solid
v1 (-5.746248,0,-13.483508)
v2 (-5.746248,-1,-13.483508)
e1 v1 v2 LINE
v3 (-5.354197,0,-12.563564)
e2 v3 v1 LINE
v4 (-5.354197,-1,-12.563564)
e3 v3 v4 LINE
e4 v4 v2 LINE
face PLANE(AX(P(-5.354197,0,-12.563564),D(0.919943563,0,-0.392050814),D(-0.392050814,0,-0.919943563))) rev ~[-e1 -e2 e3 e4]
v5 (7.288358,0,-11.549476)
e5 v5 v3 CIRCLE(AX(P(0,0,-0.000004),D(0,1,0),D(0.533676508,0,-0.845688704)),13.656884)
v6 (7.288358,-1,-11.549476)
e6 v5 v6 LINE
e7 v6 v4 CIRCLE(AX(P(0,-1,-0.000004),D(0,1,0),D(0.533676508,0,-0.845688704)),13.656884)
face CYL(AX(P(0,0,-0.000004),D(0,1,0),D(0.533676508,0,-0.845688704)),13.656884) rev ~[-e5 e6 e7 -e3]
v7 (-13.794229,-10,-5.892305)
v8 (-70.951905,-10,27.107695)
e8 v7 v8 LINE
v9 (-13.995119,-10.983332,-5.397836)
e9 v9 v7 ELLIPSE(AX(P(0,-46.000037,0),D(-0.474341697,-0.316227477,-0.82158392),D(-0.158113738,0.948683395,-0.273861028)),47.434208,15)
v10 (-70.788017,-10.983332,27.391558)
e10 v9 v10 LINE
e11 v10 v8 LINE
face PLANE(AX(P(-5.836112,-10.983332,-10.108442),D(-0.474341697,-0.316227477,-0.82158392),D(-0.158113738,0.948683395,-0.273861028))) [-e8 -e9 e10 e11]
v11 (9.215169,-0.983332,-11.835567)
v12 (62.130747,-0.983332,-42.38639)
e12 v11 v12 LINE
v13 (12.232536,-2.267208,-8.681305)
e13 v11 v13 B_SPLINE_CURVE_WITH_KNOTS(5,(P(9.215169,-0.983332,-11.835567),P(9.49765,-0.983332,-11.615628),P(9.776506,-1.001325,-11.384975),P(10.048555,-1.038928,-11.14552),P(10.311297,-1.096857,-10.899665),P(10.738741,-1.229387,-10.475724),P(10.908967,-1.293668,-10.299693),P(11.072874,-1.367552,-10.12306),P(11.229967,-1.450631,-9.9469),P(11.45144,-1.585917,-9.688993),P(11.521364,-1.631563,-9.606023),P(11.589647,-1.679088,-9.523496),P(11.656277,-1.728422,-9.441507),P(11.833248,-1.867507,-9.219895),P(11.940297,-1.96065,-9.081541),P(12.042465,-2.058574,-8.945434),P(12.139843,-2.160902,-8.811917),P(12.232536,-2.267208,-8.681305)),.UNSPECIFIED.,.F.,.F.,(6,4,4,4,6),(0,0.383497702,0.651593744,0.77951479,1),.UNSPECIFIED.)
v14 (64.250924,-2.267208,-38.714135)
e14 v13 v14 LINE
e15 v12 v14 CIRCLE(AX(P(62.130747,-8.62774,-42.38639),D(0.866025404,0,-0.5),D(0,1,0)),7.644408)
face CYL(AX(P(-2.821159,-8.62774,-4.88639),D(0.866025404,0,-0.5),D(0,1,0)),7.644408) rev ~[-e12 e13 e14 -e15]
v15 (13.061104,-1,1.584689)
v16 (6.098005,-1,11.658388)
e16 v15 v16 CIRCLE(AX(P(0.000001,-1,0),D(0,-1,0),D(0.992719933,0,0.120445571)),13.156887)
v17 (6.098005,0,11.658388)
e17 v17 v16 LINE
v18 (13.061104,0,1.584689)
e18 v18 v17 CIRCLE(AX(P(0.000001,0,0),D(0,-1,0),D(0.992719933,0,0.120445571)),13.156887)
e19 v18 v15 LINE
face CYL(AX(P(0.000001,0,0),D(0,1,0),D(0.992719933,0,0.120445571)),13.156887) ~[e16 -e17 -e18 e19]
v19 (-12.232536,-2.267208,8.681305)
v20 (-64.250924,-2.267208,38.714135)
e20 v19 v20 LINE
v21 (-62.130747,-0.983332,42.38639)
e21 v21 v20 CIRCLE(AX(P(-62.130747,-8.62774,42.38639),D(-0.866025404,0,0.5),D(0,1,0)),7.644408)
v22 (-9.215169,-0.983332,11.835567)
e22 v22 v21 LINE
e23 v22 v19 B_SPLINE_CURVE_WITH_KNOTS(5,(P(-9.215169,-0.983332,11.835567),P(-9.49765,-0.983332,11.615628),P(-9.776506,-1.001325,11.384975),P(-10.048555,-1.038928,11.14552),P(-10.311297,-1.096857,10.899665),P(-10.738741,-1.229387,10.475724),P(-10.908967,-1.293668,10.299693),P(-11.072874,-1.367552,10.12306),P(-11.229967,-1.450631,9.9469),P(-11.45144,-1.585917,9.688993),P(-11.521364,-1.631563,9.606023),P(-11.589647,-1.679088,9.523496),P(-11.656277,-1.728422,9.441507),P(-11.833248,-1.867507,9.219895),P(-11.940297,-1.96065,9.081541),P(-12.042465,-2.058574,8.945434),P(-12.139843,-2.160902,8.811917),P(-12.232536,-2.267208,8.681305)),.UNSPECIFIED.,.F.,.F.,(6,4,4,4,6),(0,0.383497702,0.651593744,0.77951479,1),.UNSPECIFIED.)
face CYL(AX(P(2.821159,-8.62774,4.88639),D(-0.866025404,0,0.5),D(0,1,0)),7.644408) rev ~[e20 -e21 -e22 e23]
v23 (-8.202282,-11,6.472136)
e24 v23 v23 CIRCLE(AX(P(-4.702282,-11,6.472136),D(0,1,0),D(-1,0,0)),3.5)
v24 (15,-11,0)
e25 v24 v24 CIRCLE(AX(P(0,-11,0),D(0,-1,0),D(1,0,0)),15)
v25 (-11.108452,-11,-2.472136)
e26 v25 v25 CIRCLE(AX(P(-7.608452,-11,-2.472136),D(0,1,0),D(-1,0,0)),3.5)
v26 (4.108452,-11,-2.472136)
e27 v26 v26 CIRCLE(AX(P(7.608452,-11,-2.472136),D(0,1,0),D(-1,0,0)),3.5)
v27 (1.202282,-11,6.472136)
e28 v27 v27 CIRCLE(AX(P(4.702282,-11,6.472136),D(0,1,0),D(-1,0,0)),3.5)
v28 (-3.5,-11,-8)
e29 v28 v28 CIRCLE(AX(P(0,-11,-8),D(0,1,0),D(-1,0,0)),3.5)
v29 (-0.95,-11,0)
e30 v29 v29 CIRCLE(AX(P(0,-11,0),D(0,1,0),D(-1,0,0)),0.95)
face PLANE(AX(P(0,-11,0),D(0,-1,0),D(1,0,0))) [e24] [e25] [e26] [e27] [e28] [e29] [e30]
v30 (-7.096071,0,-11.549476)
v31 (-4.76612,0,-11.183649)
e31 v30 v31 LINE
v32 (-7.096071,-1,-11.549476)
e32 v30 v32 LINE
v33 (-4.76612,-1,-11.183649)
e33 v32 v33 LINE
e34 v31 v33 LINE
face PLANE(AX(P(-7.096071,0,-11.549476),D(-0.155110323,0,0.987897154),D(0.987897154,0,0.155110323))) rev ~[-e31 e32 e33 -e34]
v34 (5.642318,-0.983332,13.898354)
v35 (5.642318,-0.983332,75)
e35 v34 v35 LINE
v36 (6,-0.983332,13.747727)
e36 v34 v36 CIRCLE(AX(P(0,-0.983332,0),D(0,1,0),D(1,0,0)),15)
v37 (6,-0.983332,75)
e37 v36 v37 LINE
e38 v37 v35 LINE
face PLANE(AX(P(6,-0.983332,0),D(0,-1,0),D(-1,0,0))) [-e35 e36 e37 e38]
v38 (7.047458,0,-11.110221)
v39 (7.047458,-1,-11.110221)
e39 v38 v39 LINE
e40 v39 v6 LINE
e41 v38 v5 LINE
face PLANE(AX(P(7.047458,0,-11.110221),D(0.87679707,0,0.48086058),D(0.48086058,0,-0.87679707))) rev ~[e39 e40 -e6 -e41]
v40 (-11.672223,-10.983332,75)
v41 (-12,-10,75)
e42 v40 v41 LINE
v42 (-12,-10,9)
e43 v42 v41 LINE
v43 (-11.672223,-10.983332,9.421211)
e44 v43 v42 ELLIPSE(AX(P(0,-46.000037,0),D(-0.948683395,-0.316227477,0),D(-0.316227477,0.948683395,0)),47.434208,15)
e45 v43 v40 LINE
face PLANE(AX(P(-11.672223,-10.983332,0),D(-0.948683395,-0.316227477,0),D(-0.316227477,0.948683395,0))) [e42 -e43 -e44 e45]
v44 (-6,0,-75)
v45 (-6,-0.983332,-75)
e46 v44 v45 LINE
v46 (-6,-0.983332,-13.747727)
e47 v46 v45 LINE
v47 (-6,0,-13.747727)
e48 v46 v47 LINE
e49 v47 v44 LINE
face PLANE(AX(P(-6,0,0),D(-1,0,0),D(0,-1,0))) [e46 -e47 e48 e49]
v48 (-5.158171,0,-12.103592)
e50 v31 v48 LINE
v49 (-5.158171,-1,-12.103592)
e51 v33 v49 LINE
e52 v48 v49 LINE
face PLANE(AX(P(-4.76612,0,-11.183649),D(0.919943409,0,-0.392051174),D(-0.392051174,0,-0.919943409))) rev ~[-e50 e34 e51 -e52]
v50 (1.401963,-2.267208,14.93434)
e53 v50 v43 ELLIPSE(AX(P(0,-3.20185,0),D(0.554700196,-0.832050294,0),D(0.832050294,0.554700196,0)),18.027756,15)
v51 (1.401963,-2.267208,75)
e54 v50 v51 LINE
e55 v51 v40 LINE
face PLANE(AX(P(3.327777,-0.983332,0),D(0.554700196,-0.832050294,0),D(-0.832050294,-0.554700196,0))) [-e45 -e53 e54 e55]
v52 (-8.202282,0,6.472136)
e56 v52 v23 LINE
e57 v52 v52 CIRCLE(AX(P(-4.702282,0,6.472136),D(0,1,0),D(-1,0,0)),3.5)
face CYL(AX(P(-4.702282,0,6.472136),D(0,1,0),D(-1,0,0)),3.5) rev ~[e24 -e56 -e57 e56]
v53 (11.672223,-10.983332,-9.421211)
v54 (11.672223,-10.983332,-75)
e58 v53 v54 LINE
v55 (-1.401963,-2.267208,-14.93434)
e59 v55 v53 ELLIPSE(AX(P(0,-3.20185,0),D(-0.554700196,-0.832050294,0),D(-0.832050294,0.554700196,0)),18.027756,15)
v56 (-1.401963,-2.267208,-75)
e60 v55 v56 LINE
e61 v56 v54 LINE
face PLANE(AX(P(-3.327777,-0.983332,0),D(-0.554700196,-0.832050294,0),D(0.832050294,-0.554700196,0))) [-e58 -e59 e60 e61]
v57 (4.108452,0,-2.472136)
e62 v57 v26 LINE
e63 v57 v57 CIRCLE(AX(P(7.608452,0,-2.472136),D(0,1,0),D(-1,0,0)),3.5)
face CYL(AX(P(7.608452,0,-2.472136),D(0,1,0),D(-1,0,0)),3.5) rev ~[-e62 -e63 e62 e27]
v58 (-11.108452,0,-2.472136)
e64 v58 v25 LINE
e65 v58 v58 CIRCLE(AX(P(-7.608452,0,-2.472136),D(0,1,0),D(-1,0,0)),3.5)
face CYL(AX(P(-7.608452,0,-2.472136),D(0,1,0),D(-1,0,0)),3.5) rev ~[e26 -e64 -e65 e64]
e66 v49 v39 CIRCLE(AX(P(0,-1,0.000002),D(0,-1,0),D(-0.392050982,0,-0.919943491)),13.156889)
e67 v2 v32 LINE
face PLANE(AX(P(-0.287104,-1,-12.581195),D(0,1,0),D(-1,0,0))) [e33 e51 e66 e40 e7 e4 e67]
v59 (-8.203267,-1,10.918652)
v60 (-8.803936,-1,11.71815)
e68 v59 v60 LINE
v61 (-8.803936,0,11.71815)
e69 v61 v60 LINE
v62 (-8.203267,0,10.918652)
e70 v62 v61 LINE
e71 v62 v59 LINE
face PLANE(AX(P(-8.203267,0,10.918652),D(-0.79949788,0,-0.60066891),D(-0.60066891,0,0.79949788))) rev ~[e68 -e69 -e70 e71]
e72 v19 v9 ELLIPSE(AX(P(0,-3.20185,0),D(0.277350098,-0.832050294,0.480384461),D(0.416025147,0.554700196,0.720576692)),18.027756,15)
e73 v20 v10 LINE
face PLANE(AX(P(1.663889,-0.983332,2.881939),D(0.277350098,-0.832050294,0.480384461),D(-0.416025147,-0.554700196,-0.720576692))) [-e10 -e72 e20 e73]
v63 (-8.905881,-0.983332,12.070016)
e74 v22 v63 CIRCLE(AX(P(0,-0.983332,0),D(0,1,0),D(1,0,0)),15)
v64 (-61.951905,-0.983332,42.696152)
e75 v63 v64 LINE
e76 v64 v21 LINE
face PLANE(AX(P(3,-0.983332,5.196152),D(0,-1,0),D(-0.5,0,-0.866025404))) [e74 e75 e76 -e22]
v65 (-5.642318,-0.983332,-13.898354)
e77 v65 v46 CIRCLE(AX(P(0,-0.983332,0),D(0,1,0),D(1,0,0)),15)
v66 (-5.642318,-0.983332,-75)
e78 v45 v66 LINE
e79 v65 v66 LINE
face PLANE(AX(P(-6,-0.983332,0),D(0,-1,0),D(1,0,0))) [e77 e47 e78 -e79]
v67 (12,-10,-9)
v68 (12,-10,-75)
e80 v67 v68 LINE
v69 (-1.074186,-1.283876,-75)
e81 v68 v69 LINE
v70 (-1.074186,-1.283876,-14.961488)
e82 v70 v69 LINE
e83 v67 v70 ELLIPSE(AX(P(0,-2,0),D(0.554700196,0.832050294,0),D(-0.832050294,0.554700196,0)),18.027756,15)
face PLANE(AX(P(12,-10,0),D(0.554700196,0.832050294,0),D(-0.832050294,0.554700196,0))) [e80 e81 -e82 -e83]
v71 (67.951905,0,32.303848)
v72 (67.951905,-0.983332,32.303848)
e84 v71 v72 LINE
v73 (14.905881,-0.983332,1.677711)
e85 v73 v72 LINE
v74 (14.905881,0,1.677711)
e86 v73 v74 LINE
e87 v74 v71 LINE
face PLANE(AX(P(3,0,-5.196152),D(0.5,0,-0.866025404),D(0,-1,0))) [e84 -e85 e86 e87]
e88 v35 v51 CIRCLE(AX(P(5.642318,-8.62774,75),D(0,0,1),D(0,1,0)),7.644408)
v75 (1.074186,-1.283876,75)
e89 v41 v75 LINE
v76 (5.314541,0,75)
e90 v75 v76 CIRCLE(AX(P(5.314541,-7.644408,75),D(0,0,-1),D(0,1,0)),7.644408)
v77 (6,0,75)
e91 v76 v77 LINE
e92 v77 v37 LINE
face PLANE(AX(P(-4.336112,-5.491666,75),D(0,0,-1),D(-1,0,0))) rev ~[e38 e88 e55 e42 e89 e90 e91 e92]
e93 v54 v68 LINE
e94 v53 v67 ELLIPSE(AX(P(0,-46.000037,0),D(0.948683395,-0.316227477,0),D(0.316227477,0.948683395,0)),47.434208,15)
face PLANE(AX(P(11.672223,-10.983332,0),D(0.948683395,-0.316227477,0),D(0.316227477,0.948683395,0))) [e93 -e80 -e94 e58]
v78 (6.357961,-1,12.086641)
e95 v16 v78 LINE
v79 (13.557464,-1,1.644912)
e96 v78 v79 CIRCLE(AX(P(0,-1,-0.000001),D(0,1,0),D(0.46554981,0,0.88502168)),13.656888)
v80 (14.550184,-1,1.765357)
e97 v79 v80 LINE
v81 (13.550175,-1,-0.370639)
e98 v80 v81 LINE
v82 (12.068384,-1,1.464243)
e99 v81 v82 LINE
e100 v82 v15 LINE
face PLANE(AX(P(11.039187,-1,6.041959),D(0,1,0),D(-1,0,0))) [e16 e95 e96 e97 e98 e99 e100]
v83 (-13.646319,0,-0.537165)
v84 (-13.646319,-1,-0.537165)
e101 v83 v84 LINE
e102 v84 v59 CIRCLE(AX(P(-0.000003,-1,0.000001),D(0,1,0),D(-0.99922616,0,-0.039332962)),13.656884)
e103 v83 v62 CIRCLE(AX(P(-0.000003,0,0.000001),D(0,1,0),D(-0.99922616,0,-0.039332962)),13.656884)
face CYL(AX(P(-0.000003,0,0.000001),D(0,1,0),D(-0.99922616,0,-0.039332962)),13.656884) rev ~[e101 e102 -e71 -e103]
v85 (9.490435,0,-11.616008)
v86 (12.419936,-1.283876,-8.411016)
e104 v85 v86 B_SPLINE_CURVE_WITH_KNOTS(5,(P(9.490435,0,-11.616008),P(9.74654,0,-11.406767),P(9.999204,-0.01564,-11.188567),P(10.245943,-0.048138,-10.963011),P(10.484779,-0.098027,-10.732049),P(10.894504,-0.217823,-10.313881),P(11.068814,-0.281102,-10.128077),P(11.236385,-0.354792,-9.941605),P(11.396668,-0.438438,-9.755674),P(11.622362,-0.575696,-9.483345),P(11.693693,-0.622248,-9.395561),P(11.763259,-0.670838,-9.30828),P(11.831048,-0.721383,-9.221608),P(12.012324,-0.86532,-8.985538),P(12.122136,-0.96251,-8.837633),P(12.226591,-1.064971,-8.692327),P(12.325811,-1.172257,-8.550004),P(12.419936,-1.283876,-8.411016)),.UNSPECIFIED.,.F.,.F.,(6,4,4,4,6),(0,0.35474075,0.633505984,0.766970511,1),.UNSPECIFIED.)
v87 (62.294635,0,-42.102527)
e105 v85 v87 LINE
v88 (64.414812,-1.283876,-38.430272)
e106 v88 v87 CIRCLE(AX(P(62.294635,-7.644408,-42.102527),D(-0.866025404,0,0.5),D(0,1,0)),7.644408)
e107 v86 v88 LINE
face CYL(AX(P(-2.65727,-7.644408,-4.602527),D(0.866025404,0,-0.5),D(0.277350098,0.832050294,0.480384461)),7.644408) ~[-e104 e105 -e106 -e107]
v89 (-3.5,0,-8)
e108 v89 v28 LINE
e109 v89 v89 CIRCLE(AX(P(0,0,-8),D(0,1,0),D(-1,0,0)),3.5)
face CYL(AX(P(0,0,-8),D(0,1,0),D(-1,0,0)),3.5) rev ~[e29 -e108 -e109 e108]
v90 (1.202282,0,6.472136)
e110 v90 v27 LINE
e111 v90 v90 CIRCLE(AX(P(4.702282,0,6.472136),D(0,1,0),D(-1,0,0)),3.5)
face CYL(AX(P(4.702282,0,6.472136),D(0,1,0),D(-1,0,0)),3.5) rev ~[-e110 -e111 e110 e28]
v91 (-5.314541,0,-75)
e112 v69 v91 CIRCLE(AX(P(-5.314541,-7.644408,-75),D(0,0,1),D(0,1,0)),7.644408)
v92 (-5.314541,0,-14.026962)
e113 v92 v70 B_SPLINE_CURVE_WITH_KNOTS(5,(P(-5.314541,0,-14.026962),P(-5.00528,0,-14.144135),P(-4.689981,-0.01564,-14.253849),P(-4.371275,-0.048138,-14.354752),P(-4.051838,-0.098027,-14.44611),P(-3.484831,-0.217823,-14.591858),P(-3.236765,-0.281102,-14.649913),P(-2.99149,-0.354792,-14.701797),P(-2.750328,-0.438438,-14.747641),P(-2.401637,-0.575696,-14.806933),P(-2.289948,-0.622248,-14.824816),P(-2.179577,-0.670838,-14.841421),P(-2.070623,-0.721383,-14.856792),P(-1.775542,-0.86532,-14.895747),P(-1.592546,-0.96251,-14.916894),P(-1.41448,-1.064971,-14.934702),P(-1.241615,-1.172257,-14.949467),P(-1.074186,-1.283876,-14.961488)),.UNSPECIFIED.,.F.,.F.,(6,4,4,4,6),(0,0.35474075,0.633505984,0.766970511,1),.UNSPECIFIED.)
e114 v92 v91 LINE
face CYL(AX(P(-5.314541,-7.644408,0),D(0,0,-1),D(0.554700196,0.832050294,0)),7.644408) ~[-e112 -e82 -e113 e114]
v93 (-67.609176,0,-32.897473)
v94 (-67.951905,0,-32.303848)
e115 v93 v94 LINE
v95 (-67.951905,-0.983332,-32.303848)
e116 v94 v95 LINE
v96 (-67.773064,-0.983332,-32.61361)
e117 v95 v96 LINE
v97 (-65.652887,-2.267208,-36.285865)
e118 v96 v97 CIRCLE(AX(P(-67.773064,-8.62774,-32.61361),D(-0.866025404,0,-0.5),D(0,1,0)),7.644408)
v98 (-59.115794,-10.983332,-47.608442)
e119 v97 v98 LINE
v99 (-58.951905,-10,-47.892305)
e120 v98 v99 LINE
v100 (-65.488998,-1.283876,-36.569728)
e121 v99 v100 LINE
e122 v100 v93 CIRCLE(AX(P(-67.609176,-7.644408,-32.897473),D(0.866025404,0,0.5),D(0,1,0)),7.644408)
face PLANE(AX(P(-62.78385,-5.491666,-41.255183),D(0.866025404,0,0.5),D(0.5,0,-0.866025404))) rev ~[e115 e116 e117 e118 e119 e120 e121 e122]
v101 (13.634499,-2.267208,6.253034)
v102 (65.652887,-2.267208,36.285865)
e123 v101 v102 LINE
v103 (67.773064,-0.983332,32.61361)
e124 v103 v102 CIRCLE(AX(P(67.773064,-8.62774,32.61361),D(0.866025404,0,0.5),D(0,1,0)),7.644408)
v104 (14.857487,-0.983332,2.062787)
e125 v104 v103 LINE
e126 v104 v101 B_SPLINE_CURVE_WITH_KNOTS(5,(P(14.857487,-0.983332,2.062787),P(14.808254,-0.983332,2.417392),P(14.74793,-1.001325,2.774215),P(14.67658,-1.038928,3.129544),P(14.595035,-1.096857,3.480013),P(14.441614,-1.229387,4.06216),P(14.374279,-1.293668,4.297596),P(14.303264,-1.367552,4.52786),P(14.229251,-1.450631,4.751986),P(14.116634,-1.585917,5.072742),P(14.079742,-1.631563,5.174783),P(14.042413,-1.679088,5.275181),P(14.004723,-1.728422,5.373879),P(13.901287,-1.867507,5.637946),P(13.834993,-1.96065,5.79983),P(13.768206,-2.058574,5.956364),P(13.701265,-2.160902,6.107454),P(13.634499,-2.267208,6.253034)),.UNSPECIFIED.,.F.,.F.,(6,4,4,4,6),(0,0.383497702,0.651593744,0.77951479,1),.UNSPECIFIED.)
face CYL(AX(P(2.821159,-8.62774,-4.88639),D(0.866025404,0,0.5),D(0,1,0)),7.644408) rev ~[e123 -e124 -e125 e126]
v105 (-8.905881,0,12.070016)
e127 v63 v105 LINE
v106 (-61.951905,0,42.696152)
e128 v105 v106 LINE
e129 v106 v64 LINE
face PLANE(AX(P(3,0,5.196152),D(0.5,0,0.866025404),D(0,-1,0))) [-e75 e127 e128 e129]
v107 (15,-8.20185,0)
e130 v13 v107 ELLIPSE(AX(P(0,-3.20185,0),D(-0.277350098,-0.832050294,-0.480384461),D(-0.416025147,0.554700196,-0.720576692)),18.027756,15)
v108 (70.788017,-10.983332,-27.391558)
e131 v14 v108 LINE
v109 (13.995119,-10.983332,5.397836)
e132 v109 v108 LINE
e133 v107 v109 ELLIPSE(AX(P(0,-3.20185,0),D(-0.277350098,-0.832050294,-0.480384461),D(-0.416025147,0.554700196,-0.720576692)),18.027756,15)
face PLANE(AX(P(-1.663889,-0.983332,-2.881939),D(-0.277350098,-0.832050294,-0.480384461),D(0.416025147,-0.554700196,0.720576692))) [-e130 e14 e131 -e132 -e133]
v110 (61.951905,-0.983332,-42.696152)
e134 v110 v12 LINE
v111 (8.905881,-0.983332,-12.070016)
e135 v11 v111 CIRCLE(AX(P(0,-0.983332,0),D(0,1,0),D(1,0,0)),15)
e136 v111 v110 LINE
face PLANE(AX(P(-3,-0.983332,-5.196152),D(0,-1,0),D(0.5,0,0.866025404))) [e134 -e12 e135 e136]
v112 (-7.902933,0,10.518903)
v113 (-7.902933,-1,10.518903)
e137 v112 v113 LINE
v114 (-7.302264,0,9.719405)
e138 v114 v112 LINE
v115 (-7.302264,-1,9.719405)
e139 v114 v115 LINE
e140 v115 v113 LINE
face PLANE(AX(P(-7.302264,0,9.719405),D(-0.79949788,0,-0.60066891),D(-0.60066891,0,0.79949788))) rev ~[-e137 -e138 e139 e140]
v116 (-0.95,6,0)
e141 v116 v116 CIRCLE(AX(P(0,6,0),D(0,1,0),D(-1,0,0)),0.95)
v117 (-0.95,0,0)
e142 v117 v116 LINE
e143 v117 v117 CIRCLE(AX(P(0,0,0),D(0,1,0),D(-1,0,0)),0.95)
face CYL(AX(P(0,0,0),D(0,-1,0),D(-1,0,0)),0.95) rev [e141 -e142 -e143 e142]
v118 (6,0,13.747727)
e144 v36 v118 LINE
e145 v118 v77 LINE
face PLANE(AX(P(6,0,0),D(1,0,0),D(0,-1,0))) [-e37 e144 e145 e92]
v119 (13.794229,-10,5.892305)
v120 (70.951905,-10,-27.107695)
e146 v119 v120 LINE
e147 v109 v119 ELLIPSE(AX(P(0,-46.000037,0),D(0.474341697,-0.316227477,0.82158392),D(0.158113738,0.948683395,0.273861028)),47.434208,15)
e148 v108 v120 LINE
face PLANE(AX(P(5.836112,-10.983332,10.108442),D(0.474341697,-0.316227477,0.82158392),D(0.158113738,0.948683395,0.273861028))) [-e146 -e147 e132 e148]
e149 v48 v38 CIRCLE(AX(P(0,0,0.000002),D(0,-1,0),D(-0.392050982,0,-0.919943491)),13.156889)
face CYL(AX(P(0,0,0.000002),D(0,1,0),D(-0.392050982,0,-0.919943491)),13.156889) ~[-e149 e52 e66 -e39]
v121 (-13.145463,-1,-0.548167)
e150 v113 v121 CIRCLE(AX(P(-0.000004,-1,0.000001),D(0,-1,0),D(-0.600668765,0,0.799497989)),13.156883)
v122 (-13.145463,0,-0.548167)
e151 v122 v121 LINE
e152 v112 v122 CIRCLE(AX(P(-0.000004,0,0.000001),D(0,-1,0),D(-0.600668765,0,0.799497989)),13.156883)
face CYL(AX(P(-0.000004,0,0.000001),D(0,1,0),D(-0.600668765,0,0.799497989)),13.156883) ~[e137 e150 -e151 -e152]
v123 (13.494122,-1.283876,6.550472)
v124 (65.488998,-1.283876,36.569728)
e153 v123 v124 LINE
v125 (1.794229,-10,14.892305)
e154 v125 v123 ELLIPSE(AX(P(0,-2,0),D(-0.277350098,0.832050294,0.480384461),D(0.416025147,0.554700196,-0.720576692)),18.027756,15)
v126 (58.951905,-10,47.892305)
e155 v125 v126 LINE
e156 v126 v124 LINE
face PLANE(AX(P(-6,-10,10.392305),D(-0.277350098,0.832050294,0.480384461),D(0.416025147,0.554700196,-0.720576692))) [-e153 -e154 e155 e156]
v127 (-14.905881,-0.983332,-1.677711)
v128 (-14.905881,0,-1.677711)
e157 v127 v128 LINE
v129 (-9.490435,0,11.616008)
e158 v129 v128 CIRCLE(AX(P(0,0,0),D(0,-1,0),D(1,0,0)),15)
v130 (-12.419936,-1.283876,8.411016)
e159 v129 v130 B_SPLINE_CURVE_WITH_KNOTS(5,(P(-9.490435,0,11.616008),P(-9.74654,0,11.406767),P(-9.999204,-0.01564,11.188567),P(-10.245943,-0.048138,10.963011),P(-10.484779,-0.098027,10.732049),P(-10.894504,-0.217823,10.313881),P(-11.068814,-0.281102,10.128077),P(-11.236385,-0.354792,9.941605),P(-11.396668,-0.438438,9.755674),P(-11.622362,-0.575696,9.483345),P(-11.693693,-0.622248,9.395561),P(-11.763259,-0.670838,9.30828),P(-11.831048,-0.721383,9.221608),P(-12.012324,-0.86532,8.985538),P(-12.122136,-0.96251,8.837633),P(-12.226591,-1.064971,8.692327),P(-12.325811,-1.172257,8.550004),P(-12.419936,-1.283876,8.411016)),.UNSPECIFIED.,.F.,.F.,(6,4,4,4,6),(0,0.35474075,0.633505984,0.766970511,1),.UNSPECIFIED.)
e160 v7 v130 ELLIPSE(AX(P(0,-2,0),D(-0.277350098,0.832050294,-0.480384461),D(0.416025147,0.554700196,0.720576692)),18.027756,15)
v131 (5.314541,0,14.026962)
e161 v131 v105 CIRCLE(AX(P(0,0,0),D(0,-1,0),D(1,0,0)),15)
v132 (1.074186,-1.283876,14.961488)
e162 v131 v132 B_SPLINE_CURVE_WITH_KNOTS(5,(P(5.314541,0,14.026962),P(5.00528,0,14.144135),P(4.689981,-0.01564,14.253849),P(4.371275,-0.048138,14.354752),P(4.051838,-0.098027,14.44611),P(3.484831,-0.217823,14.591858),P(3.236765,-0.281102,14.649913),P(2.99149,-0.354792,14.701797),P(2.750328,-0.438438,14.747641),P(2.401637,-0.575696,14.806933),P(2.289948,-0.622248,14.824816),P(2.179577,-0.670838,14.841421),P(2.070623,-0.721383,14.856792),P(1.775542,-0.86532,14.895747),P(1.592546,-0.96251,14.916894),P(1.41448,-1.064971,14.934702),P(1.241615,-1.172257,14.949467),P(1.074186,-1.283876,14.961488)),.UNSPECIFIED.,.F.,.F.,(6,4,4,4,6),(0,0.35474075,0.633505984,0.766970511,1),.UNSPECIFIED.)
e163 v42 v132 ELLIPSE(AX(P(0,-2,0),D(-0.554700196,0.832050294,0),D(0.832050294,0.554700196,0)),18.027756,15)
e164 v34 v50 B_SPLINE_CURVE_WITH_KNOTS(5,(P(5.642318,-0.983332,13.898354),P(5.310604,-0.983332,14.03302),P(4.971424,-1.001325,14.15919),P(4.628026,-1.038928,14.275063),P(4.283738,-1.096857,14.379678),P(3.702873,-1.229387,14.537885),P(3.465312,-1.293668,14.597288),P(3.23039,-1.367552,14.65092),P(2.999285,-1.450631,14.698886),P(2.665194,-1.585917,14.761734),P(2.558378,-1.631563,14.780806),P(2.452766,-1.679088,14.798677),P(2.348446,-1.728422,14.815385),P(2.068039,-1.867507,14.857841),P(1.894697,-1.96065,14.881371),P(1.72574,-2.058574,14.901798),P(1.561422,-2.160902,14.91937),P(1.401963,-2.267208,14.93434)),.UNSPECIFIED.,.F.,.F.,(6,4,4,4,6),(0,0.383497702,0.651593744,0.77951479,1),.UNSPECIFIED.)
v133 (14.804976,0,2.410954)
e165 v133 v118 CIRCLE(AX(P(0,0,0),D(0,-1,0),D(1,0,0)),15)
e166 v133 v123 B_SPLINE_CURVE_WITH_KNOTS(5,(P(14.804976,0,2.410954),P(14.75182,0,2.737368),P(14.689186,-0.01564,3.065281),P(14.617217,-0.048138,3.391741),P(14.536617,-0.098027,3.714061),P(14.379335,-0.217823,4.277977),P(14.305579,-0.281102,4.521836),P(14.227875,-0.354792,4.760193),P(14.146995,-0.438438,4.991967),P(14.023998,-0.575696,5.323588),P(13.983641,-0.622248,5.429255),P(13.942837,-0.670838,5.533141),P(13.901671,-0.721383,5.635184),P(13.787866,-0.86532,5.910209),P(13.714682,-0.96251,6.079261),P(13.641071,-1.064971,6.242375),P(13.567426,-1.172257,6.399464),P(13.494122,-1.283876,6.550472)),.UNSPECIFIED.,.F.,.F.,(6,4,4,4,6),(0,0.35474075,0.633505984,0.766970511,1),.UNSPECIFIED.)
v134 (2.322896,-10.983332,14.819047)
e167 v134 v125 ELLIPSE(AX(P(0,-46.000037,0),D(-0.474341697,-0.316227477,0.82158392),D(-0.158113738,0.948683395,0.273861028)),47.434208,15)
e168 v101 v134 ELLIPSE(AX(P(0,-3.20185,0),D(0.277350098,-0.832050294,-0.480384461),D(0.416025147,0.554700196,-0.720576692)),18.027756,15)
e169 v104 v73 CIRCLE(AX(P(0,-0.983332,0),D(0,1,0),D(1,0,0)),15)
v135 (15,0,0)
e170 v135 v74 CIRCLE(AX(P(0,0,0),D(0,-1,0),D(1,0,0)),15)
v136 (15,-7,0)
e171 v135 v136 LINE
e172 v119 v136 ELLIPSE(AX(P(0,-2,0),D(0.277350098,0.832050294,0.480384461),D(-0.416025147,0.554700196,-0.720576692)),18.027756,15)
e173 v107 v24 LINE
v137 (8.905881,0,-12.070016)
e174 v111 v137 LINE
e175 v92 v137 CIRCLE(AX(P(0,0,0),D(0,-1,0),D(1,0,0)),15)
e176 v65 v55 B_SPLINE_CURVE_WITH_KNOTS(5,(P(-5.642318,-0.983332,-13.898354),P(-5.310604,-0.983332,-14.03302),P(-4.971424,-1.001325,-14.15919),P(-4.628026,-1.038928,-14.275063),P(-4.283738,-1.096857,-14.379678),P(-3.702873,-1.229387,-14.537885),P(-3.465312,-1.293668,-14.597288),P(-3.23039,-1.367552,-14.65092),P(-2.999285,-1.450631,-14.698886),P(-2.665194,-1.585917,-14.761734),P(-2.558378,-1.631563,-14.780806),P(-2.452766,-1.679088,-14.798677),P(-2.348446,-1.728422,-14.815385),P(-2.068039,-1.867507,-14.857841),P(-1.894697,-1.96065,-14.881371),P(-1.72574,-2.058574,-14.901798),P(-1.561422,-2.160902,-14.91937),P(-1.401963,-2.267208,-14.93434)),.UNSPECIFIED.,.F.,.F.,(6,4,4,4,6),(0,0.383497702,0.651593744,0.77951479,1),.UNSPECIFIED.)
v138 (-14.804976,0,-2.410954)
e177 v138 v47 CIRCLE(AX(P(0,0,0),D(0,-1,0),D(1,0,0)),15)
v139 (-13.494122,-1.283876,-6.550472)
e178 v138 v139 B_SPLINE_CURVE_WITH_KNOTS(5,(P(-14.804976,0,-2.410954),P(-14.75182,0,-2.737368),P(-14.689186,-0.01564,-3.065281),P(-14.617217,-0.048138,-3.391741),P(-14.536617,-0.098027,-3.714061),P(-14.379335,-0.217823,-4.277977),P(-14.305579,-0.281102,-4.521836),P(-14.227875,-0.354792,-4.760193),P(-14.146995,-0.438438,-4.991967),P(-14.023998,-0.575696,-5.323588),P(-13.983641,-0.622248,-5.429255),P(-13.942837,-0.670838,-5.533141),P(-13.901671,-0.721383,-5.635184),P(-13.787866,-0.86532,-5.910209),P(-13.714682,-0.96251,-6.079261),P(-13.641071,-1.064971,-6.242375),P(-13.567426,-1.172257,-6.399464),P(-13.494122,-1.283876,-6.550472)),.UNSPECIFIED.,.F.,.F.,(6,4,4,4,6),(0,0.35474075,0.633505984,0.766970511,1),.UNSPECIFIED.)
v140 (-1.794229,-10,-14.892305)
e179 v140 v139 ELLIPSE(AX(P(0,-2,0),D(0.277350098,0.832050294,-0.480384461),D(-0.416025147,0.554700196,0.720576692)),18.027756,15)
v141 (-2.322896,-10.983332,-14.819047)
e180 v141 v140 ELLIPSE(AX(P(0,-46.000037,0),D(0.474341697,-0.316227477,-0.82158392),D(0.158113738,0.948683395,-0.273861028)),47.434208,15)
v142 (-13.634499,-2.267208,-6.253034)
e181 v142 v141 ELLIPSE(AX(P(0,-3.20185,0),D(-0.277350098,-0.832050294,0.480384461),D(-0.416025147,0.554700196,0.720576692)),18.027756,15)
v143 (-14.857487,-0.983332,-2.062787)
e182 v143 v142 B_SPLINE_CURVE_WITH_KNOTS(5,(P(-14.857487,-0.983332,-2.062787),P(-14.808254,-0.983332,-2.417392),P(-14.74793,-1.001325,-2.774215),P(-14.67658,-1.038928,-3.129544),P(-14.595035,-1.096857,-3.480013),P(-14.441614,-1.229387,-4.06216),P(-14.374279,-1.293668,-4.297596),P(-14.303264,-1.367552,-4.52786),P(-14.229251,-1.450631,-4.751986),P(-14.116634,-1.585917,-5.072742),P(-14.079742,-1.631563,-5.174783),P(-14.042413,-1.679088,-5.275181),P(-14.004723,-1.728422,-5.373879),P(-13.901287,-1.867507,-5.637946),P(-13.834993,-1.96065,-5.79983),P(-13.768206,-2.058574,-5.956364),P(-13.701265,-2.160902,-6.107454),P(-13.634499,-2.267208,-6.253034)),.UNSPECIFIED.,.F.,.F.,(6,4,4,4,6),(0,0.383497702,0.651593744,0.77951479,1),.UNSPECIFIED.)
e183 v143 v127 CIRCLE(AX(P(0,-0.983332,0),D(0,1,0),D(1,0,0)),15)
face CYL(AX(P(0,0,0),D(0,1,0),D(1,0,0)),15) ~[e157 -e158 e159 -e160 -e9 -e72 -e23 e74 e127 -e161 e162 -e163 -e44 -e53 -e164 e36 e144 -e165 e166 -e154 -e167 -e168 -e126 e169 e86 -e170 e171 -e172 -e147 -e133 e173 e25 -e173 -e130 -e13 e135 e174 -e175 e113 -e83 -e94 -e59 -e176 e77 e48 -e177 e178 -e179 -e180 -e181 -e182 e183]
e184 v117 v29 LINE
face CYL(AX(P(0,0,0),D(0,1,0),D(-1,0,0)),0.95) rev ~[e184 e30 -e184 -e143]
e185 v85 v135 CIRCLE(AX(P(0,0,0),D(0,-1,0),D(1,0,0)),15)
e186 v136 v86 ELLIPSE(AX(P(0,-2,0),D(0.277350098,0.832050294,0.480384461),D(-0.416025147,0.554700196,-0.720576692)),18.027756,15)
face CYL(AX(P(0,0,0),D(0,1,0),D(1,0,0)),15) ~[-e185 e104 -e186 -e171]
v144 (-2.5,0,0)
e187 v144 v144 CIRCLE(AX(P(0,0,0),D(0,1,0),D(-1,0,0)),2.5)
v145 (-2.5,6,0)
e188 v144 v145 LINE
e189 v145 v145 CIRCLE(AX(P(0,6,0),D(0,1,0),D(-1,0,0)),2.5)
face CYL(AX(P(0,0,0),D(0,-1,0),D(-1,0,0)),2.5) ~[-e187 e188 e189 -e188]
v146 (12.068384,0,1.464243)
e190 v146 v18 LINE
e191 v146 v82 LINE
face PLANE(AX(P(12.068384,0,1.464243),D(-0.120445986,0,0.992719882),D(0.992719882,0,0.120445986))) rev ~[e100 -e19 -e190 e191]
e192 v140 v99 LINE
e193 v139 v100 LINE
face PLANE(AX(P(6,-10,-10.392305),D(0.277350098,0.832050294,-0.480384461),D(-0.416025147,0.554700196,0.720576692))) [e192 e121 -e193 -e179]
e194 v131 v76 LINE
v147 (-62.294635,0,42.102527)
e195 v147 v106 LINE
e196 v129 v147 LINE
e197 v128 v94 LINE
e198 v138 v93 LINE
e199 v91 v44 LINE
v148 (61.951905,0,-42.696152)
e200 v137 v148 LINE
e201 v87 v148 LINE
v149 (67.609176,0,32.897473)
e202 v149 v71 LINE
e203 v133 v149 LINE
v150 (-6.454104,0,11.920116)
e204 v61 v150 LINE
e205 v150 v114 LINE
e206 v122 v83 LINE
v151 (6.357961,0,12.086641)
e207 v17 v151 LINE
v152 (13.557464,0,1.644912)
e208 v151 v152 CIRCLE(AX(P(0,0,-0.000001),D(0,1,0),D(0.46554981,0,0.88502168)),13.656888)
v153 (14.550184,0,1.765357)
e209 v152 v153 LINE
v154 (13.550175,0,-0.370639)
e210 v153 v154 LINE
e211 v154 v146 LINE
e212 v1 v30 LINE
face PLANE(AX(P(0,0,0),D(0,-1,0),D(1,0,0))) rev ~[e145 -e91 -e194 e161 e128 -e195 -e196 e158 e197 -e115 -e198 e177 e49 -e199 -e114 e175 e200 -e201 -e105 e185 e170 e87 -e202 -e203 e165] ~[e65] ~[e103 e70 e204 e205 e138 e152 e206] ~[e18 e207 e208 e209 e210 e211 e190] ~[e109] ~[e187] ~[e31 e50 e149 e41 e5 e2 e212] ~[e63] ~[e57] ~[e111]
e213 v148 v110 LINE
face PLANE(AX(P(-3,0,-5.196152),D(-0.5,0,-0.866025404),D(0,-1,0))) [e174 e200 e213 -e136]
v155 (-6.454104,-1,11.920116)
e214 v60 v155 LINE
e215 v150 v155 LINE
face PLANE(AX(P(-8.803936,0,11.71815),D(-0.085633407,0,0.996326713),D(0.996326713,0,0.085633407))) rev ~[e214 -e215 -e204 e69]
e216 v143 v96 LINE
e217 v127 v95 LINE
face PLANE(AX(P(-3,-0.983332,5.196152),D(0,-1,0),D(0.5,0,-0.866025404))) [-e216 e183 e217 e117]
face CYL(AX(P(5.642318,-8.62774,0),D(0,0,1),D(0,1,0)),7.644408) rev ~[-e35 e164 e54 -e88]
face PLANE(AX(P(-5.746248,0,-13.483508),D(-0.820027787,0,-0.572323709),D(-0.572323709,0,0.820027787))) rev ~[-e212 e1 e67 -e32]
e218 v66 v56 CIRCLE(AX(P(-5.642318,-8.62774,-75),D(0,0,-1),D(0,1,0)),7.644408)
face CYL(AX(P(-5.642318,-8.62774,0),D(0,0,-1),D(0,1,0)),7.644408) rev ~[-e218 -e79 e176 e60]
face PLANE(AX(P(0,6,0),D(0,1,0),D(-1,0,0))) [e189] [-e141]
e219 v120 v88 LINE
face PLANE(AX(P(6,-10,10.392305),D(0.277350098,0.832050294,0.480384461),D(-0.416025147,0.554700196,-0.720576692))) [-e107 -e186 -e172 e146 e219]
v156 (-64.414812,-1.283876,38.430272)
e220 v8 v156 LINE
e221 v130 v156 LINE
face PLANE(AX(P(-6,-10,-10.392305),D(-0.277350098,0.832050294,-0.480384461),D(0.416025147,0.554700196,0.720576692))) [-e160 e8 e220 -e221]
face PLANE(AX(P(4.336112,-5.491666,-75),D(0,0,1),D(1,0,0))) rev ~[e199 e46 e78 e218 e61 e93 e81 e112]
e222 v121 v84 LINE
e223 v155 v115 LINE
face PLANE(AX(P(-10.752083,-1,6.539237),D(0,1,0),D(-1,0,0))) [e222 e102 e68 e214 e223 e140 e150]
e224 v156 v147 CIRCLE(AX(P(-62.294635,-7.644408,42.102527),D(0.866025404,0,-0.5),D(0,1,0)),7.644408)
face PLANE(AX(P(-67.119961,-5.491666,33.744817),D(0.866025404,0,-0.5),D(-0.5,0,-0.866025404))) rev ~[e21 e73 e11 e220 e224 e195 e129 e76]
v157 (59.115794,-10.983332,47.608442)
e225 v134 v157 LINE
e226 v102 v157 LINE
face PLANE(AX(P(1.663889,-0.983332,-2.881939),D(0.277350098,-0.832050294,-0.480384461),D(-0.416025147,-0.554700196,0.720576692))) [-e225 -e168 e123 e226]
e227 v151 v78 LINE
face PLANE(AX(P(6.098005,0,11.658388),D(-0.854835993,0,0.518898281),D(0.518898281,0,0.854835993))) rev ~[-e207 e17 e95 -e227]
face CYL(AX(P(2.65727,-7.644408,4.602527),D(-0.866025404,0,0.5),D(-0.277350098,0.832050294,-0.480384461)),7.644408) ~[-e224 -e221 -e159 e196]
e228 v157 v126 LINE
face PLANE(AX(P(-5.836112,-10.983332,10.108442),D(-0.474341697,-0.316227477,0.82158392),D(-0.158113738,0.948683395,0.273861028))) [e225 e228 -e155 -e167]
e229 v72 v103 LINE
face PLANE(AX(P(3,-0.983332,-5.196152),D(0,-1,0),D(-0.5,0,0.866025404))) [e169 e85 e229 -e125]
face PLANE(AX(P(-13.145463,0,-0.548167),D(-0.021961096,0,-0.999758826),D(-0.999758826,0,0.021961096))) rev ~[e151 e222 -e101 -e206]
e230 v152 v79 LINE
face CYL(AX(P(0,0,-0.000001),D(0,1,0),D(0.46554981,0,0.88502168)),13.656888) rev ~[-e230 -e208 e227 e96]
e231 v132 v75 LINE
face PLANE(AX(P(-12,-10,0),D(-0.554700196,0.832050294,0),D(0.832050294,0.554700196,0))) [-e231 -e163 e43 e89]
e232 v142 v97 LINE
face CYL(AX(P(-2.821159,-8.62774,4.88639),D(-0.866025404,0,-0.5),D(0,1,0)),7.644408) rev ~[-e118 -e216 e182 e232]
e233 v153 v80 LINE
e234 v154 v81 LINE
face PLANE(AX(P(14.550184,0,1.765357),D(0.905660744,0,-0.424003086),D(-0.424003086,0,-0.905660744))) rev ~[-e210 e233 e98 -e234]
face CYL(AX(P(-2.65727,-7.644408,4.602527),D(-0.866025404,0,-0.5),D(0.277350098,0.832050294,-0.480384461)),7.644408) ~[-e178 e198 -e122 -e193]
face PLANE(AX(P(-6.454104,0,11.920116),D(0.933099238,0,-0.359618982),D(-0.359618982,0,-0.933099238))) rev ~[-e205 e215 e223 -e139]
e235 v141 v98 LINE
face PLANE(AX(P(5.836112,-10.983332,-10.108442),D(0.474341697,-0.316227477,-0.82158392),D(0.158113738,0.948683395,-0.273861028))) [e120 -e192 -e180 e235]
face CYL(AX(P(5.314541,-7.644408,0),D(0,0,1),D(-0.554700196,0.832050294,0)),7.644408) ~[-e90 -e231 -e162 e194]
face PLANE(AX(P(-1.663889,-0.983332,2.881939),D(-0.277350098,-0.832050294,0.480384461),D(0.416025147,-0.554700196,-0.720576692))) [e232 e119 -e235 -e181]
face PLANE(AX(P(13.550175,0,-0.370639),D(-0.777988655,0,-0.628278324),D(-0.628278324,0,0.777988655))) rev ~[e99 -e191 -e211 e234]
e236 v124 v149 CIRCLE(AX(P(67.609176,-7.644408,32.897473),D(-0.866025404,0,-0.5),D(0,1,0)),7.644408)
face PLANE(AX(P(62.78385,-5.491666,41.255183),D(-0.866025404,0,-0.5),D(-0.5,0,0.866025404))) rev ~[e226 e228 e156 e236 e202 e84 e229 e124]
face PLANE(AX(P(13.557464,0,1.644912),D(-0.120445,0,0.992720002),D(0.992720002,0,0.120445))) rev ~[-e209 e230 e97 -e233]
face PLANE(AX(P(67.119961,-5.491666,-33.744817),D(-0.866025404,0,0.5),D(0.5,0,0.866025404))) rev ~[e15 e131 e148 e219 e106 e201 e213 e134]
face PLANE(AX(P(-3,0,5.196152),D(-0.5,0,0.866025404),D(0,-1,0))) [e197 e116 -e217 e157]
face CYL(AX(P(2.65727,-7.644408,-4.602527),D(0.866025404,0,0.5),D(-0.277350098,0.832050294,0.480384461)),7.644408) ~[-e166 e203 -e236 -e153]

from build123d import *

# Parameters (mm, degrees)
F1_DEPTH  = 75
F2_R      = 7.644408
F4_COUNT  = 6
F5_R      = 15
F6_DEPTH  = 11
F7_R      = 3.5
F7_R_2    = 0.95
F8_DEPTH  = 25
F10_DEPTH = 1
F11_R     = 2.5
F11_R_2   = 0.95
F12_DEPTH = 6


with BuildPart() as f1:
    # F0 (on Top) → F1 (new body)
    with BuildSketch(Plane.XY):
        Polygon((11.672223, -10.983332), (12, -10), (-3, 0), (-3.327777, -0.983332), align=None)
        Polygon((-3.327777, -0.983332), (-3, 0), (-6, 0), (-6, -0.983332), align=None)
    extrude(amount=-F1_DEPTH)

    # F2
    f2_edges = [f1.edges().sort_by_distance(p)[0] for p in [
        (-3.327777, -0.983332, -37.5),
        (-3, 0, -37.5),
    ]]
    fillet(f2_edges, radius=F2_R)



with BuildPart() as f4_1:
    # F4: instance of F1
    add(f1.part.rotate(Axis((0, 13.525062, 0), (0, 1, 0)), 1 * 360 / F4_COUNT))


with BuildPart() as f4_2:
    # F4: instance of F1
    add(f1.part.rotate(Axis((0, 13.525062, 0), (0, 1, 0)), 2 * 360 / F4_COUNT))


with BuildPart() as f4_3:
    # F4: instance of F1
    add(f1.part.rotate(Axis((0, 13.525062, 0), (0, 1, 0)), 3 * 360 / F4_COUNT))


with BuildPart() as f4_4:
    # F4: instance of F1
    add(f1.part.rotate(Axis((0, 13.525062, 0), (0, 1, 0)), 4 * 360 / F4_COUNT))


with BuildPart() as f4_5:
    # F4: instance of F1
    add(f1.part.rotate(Axis((0, 13.525062, 0), (0, 1, 0)), 5 * 360 / F4_COUNT))


with BuildPart() as f1_1:
    add(f1.part)

    add(f4_1.part)  # F6 merges F4_1

    add(f4_2.part)  # F6 merges F4_2

    add(f4_3.part)  # F6 merges F4_3

    add(f4_4.part)  # F6 merges F4_4

    add(f4_5.part)  # F6 merges F4_5
    # F5 (on Front) → F6 (join)
    with BuildSketch(Plane.XZ):
        Circle(F5_R)
    extrude(amount=F6_DEPTH)

    # F7 (on face) → F8 (cut)
    with BuildSketch(Plane(origin=(0, 0, 0), x_dir=(-1, 0, 0), z_dir=(0, 1, 0))):
        with Locations((-4.702282, 6.472136)):
            Circle(F7_R)
        with Locations((-7.608452, -2.472136)):
            Circle(F7_R)
        with Locations((0, -8)):
            Circle(F7_R)
        with Locations((7.608452, -2.472136)):
            Circle(F7_R)
        with Locations((4.702282, 6.472136)):
            Circle(F7_R)
        Circle(F7_R_2)
    extrude(amount=-F8_DEPTH, mode=Mode.SUBTRACT)

    # F9 (on face) → F10 (cut)
    with BuildSketch(Plane(origin=(0, 0, 0), x_dir=(-1, 0, 0), z_dir=(0, 1, 0))):
        with BuildLine():
            ThreePointArc((5.158171, -12.103592), (-1.067262, -13.113528), (-7.047458, -11.110221))
            Line((-7.047458, -11.110221), (-7.288358, -11.549476))
            ThreePointArc((-7.288358, -11.549476), (-1.091943, -13.613164), (5.354197, -12.563564))
            Line((5.354197, -12.563564), (5.746248, -13.483508))
            Line((5.746248, -13.483508), (7.096071, -11.549476))
            Line((7.096071, -11.549476), (4.76612, -11.183649))
            Line((4.76612, -11.183649), (5.158171, -12.103592))
        make_face()
        with BuildLine():
            Line((8.803936, 11.71815), (6.454104, 11.920116))
            Line((6.454104, 11.920116), (7.302264, 9.719405))
            Line((7.302264, 9.719405), (7.902933, 10.518903))
            ThreePointArc((7.902933, 10.518903), (11.89028, 5.632489), (13.145463, -0.548167))
            Line((13.145463, -0.548167), (13.646319, -0.537165))
            ThreePointArc((13.646319, -0.537165), (12.335317, 5.860932), (8.203267, 10.918652))
            Line((8.203267, 10.918652), (8.803936, 11.71815))
        make_face()
        with BuildLine():
            Line((-14.550184, 1.765357), (-13.550175, -0.370639))
            Line((-13.550175, -0.370639), (-12.068384, 1.464243))
            Line((-12.068384, 1.464243), (-13.061104, 1.584689))
            ThreePointArc((-13.061104, 1.584689), (-10.823018, 7.48104), (-6.098005, 11.658388))
            Line((-6.098005, 11.658388), (-6.357961, 12.086641))
            ThreePointArc((-6.357961, 12.086641), (-11.243374, 7.752232), (-13.557464, 1.644912))
            Line((-13.557464, 1.644912), (-14.550184, 1.765357))
        make_face()
    extrude(amount=-F10_DEPTH, mode=Mode.SUBTRACT)

    # F11 (on face) → F12 (join)
    with BuildSketch(Plane(origin=(0, 0, 0), x_dir=(-1, 0, 0), z_dir=(0, 1, 0))):
        Circle(F11_R)
        Circle(F11_R_2, mode=Mode.SUBTRACT)
    extrude(amount=F12_DEPTH)


solid = f1_1.part
